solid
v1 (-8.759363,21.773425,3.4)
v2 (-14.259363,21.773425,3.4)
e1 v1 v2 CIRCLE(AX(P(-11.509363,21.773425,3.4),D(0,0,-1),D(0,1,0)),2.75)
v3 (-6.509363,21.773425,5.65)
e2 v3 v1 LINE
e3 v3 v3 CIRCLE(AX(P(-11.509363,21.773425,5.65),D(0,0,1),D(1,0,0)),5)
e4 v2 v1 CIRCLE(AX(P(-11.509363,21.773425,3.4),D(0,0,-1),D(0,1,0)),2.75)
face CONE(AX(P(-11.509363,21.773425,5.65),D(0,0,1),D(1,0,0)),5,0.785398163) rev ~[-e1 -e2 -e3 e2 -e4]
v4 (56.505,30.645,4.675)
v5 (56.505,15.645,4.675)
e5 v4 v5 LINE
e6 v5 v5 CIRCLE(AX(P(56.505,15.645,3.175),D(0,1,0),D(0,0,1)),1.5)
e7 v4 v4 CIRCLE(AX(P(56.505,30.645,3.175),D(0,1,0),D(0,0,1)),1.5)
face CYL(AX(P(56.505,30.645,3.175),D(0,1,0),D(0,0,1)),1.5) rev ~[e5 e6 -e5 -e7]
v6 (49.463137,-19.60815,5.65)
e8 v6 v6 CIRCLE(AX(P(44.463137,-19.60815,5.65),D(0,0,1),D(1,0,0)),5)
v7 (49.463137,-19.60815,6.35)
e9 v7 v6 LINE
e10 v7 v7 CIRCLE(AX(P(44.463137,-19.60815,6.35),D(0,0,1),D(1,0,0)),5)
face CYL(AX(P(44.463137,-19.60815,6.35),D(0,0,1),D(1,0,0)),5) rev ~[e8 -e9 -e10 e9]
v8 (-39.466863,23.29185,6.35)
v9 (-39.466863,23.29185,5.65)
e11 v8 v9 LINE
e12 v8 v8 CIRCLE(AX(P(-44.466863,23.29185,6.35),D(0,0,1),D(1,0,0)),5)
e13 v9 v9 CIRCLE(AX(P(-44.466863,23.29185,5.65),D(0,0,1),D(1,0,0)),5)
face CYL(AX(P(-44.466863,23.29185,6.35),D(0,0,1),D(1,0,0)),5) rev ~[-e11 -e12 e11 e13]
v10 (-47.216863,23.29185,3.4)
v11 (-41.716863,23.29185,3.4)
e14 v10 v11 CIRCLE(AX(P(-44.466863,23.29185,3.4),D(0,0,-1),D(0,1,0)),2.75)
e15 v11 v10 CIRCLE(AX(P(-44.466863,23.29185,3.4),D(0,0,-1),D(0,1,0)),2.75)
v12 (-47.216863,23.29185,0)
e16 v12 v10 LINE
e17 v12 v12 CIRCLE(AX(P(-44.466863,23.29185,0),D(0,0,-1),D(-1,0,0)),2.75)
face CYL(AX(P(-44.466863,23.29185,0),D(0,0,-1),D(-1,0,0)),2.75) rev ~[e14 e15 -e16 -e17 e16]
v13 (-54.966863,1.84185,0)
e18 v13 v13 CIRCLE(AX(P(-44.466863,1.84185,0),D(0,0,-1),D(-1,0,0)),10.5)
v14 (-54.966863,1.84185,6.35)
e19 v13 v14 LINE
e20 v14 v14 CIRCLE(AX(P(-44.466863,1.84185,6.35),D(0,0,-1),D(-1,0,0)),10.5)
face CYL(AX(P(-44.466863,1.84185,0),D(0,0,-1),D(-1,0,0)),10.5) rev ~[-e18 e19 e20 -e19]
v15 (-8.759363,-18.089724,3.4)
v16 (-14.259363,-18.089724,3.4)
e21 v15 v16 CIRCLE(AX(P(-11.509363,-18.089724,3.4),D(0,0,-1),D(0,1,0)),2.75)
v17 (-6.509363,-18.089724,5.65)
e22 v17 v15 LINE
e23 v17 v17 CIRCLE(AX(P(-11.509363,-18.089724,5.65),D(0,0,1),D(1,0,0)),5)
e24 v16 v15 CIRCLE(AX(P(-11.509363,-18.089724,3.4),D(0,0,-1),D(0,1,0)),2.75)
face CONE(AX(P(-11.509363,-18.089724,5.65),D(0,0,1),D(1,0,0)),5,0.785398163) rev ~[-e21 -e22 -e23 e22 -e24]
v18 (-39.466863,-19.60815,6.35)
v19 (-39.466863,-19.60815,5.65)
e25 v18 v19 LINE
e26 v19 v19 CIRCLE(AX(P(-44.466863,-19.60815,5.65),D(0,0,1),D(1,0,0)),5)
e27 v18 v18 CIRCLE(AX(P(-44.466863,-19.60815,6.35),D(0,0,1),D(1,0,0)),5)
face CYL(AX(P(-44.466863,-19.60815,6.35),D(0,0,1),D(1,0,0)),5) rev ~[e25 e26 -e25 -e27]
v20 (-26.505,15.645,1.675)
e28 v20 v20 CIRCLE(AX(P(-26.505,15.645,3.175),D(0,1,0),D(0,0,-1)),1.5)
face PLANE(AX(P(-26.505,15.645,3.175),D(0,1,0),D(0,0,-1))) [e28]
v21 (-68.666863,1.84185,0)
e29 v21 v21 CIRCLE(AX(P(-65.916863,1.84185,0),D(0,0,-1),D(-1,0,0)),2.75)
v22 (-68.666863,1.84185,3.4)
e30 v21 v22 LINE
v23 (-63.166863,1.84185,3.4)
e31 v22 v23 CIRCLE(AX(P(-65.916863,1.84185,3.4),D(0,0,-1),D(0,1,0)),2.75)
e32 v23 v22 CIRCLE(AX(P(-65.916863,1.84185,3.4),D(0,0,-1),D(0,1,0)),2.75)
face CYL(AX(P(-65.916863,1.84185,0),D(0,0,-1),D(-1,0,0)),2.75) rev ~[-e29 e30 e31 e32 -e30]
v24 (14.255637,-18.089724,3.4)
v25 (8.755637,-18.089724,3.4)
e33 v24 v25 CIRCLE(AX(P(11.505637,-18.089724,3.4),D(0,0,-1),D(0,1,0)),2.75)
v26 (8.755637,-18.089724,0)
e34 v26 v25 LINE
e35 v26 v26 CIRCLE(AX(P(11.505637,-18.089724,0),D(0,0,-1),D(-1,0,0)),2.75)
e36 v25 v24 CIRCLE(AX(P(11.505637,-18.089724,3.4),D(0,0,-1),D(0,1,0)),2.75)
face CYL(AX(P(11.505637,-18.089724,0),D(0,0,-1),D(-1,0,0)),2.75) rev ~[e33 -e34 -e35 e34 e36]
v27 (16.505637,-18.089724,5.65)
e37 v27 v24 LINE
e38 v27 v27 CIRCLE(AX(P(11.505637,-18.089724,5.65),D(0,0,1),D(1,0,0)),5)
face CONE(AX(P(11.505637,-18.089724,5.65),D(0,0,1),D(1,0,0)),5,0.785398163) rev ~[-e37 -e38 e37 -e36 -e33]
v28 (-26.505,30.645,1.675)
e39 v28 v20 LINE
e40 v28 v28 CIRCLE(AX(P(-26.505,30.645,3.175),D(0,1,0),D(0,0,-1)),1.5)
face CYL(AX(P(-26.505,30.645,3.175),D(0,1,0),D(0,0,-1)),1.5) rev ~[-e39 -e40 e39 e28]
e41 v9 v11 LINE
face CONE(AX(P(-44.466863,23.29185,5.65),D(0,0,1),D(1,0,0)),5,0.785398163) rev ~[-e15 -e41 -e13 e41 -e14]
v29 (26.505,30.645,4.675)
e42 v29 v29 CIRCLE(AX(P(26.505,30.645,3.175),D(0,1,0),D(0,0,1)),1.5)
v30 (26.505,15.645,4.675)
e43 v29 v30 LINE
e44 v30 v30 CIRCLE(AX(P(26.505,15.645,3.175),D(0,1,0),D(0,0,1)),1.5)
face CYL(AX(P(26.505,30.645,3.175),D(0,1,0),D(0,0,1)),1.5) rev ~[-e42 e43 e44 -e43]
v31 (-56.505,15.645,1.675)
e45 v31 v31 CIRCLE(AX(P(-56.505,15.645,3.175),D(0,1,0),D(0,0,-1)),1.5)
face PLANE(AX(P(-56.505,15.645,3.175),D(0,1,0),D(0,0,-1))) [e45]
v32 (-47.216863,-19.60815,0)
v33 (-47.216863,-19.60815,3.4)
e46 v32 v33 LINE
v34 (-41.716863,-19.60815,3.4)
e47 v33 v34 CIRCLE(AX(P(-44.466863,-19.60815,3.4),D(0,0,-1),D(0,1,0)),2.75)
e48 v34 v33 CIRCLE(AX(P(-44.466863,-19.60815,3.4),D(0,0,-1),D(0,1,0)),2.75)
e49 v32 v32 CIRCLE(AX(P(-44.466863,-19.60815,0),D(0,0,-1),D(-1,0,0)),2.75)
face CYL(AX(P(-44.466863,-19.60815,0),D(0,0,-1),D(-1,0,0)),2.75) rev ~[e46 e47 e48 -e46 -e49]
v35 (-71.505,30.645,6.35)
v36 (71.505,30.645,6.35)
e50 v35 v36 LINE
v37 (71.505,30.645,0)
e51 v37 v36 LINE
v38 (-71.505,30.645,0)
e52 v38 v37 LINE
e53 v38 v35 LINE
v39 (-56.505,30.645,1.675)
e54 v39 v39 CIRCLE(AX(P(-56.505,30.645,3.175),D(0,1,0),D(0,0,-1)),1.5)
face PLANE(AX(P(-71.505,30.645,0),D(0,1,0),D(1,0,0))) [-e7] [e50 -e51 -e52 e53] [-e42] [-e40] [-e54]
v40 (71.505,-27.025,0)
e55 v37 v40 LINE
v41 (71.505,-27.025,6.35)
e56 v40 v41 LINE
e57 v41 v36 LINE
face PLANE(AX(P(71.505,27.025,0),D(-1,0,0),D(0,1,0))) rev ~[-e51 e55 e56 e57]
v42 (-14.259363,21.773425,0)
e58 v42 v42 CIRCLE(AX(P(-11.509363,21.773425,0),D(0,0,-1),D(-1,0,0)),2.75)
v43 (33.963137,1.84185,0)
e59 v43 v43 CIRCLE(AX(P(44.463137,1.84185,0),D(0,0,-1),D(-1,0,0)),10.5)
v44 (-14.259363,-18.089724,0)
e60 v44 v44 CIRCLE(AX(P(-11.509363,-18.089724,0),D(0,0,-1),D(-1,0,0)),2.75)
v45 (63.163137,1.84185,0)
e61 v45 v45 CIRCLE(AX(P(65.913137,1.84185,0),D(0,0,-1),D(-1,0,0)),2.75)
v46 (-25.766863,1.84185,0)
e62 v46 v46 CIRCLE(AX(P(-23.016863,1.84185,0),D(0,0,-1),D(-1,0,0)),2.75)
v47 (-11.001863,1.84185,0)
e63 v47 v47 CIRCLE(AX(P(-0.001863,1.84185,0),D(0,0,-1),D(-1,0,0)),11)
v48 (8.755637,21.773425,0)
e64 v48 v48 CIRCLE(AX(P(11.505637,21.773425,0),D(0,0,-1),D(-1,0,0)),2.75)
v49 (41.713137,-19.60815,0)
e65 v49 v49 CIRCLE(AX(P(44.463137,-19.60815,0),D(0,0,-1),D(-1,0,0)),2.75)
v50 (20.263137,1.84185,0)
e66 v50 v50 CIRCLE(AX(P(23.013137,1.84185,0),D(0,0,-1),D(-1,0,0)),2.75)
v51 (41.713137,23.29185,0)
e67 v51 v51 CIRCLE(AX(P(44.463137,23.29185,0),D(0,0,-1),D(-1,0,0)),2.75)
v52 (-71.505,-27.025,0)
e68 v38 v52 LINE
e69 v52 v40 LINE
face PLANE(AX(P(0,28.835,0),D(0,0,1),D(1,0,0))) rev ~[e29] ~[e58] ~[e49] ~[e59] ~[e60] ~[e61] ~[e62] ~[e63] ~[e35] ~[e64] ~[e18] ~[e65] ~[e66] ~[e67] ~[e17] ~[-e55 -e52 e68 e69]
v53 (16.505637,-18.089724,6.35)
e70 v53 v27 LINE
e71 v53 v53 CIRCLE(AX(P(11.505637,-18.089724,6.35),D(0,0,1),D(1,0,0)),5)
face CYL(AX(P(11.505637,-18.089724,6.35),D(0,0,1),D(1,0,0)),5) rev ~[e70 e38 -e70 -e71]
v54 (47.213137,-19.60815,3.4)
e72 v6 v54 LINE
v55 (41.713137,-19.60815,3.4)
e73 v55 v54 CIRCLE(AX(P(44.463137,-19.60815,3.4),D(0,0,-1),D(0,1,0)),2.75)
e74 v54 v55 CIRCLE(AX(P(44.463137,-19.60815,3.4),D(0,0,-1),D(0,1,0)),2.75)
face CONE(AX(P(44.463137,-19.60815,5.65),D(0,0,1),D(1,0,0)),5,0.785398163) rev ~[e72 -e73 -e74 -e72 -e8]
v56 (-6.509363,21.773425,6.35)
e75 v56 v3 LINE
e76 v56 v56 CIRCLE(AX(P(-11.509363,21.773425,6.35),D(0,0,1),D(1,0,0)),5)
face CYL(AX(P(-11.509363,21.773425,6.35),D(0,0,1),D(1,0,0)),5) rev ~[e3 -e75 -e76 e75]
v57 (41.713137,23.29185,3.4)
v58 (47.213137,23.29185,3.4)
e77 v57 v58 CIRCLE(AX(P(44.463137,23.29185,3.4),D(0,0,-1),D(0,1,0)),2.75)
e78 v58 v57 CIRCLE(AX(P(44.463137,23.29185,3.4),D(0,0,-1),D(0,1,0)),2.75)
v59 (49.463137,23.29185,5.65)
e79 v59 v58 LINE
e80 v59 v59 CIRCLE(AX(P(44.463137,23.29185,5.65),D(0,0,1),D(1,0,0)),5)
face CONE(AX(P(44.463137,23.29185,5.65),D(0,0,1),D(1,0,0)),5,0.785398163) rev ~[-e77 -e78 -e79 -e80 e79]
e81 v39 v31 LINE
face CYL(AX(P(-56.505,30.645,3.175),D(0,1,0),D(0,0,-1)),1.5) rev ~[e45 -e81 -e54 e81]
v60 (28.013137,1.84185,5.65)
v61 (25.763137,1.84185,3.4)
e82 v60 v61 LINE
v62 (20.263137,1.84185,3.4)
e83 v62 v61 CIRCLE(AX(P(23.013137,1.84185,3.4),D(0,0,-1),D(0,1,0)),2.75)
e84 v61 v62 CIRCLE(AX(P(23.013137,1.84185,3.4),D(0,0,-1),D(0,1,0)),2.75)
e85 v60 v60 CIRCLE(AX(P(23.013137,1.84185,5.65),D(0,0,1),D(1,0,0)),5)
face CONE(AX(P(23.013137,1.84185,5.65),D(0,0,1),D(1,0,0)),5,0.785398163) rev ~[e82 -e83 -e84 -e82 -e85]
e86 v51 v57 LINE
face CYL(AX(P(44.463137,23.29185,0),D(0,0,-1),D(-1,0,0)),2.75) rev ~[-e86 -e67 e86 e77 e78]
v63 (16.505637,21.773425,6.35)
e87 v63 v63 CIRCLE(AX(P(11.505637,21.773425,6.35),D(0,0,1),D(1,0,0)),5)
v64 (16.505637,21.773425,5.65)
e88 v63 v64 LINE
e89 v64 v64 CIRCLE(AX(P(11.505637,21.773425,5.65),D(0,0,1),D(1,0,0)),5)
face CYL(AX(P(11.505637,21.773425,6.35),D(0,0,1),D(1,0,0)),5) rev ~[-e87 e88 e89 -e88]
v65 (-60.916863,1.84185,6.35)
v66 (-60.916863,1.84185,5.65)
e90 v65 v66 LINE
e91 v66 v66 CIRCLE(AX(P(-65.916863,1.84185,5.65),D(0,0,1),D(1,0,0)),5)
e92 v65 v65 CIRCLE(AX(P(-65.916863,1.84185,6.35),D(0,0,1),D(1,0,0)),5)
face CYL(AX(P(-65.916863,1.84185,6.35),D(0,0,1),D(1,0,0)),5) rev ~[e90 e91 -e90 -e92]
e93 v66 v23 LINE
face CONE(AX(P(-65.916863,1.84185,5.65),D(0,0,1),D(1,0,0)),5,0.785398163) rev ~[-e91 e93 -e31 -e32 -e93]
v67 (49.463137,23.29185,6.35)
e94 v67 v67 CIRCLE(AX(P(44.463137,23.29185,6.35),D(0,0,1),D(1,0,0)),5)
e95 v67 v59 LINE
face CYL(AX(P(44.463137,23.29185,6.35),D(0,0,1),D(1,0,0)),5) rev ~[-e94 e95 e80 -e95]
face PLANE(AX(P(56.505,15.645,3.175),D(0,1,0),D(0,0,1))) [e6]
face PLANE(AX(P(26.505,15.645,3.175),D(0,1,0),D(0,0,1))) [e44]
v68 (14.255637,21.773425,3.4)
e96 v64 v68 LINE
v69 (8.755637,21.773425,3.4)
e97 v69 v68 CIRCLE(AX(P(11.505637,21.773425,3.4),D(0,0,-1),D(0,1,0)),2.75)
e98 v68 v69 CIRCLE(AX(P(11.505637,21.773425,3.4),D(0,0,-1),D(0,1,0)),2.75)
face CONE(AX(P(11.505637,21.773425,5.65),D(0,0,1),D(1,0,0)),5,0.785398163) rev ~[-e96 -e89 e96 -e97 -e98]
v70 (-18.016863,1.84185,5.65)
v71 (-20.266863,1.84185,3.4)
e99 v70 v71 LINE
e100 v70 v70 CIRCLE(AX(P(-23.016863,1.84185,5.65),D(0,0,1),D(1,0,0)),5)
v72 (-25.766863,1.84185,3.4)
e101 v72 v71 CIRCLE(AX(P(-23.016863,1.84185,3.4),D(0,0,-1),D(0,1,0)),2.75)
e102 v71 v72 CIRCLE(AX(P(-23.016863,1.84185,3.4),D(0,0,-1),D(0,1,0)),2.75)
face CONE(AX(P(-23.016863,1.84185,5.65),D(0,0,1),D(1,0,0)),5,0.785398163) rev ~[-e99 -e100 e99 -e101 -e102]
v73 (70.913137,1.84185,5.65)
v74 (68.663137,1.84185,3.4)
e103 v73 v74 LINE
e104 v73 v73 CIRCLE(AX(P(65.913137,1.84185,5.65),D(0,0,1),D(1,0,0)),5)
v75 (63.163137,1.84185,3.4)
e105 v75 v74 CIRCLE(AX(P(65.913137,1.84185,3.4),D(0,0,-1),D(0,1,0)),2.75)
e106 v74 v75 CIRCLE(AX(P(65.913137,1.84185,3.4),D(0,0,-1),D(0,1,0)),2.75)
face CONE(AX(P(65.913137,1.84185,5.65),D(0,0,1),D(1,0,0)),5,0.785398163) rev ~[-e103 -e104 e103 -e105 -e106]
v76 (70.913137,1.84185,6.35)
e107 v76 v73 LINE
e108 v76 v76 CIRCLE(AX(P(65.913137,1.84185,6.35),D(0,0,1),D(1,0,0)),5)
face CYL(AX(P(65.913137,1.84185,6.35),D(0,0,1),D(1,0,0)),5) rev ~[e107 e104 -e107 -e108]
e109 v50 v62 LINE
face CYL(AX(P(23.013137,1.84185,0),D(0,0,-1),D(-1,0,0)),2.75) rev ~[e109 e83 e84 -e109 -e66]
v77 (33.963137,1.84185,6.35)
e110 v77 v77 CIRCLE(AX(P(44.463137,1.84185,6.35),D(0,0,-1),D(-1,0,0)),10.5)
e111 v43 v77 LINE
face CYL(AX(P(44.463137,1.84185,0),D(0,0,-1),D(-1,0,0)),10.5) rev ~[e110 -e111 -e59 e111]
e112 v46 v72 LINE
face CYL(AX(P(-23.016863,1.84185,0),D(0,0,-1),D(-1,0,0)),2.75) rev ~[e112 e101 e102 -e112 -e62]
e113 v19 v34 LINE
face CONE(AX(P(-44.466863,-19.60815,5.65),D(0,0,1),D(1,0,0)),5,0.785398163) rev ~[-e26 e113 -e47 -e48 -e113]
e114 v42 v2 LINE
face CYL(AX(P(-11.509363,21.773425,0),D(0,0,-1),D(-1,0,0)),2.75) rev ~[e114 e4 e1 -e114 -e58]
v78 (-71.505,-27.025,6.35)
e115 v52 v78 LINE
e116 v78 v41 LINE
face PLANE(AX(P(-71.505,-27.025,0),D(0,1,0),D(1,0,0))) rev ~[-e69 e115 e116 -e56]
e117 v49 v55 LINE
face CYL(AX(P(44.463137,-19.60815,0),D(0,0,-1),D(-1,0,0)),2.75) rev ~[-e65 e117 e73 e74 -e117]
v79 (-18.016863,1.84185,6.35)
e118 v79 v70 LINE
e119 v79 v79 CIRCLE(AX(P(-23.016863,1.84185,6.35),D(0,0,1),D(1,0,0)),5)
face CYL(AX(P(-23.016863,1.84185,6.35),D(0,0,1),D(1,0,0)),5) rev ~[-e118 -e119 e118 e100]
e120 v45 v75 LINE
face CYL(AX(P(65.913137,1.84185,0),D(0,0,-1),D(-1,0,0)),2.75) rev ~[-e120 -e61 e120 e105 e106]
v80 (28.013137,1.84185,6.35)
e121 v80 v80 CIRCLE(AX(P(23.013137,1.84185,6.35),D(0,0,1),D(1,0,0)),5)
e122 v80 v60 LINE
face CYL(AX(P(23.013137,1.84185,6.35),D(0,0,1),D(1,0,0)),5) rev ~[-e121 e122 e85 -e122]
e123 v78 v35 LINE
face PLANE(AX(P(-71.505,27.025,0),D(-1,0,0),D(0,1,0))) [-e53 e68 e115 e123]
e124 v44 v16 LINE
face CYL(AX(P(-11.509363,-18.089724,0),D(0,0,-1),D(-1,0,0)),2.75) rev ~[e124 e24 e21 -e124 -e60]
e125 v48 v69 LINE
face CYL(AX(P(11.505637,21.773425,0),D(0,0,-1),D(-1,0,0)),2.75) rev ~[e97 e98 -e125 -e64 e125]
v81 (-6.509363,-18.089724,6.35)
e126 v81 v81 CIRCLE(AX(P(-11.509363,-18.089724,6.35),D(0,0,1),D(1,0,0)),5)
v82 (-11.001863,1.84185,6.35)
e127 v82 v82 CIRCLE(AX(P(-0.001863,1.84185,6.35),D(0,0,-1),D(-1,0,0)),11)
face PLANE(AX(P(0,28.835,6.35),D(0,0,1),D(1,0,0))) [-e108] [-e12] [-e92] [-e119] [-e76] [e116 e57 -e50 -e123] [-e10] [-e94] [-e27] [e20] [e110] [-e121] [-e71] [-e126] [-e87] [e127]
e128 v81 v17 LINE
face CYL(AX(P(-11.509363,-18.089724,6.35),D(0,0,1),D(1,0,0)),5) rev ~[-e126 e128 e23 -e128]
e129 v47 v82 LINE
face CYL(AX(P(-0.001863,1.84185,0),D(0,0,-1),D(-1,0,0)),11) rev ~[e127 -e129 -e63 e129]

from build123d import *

# Parameters (mm, degrees)
ESBO_O1_W                        = 143.01
ESBO_O1_H                        = 54.05
RESSALTO_EXTRUS_O1_DEPTH         = 6.35
ESBO_O2_R                        = 2.75
CORTE_EXTRUS_O1_DEPTH            = 10
ESBO_O3_R                        = 10.5
ESBO_O3_R_2                      = 11
CORTE_EXTRUS_O2_DEPTH            = 10
ESBO_O4_W                        = 143.01
ESBO_O4_H                        = 3.62
RESSALTO_EXTRUS_O2_DEPTH         = 6.35
ESBO_O8_R                        = 1.5
CORTE_EXTRUS_O3_DEPTH            = 15
ESBO_O9_R                        = 5
CORTE_EXTRUS_O4_DEPTH            = 0.7
ESBO_O12_R                       = 5
CORTE_EXTRUS_O5_DEPTH            = 2.5
CORTE_EXTRUS_O5_DRAFT            = -45
CORTE_EXTRUS_O5_PROFILE_2_DEPTH  = 2.5
CORTE_EXTRUS_O5_PROFILE_2_DRAFT  = -45
CORTE_EXTRUS_O5_PROFILE_3_DEPTH  = 2.5
CORTE_EXTRUS_O5_PROFILE_3_DRAFT  = -45
CORTE_EXTRUS_O5_PROFILE_4_DEPTH  = 2.5
CORTE_EXTRUS_O5_PROFILE_4_DRAFT  = -45
CORTE_EXTRUS_O5_PROFILE_5_DEPTH  = 2.5
CORTE_EXTRUS_O5_PROFILE_5_DRAFT  = -45
CORTE_EXTRUS_O5_PROFILE_6_DEPTH  = 2.5
CORTE_EXTRUS_O5_PROFILE_6_DRAFT  = -45
CORTE_EXTRUS_O5_PROFILE_7_DEPTH  = 2.5
CORTE_EXTRUS_O5_PROFILE_7_DRAFT  = -45
CORTE_EXTRUS_O5_PROFILE_8_DEPTH  = 2.5
CORTE_EXTRUS_O5_PROFILE_8_DRAFT  = -45
CORTE_EXTRUS_O5_PROFILE_9_DEPTH  = 2.5
CORTE_EXTRUS_O5_PROFILE_9_DRAFT  = -45
CORTE_EXTRUS_O5_PROFILE_10_DEPTH = 2.5
CORTE_EXTRUS_O5_PROFILE_10_DRAFT = -45
CORTE_EXTRUS_O5_PROFILE_11_DEPTH = 2.5
CORTE_EXTRUS_O5_PROFILE_11_DRAFT = -45
CORTE_EXTRUS_O5_PROFILE_12_DEPTH = 2.5
CORTE_EXTRUS_O5_PROFILE_12_DRAFT = -45


with BuildPart() as part:
    # Esboço1 → Ressalto-extrusão1 (new body)
    with BuildSketch(Plane.XY):
        Rectangle(ESBO_O1_W, ESBO_O1_H)
    extrude(amount=RESSALTO_EXTRUS_O1_DEPTH)

    # Esboço2 → Corte-extrusão1 (cut)
    with BuildSketch(Plane(origin=(0, 0, 0), x_dir=(-1, 0, 0), z_dir=(0, 0, -1))):
        with Locations((-44.463136928, 23.291850449)):
            Circle(ESBO_O2_R)
        with Locations((-65.913136928, 1.841850449)):
            Circle(ESBO_O2_R)
        with Locations((-44.463136928, -19.608149551)):
            Circle(ESBO_O2_R)
        with Locations((-23.013136928, 1.841850449)):
            Circle(ESBO_O2_R)
        with Locations((-11.505636928, 21.773425117)):
            Circle(ESBO_O2_R)
        with Locations((11.509363072, 21.773425117)):
            Circle(ESBO_O2_R)
        with Locations((23.016863072, 1.841850449)):
            Circle(ESBO_O2_R)
        with Locations((11.509363072, -18.089724219)):
            Circle(ESBO_O2_R)
        with Locations((-11.505636928, -18.089724219)):
            Circle(ESBO_O2_R)
        with Locations((44.466863072, -19.608149551)):
            Circle(ESBO_O2_R)
        with Locations((65.916863072, 1.841850449)):
            Circle(ESBO_O2_R)
        with Locations((44.466863072, 23.291850449)):
            Circle(ESBO_O2_R)
    extrude(amount=-CORTE_EXTRUS_O1_DEPTH, mode=Mode.SUBTRACT)

    # Esboço3 → Corte-extrusão2 (cut)
    with BuildSketch(Plane(origin=(0, 0, 0), x_dir=(-1, 0, 0), z_dir=(0, 0, -1))):
        with Locations((-44.463136928, 1.841850449)):
            Circle(ESBO_O3_R)
        with Locations((0.001863072, 1.841850449)):
            Circle(ESBO_O3_R_2)
        with Locations((44.466863072, 1.841850449)):
            Circle(ESBO_O3_R)
    extrude(amount=-CORTE_EXTRUS_O2_DEPTH, mode=Mode.SUBTRACT)

    # Esboço4 → Ressalto-extrusão2 (add)
    with BuildSketch(Plane.XY):
        with Locations((0, 28.835)):
            Rectangle(ESBO_O4_W, ESBO_O4_H)
    extrude(amount=RESSALTO_EXTRUS_O2_DEPTH)

    # Esboço8 → Corte-extrusão3 (cut)
    with BuildSketch(Plane(origin=(0, 30.645, 0), x_dir=(1, 0, 0), z_dir=(0, 1, 0))):
        with Locations(Location((56.505, -3.175, 0), (0, 0, 270))):
            Circle(ESBO_O8_R)
        with Locations(Location((26.505, -3.175, 0), (0, 0, 270))):
            Circle(ESBO_O8_R)
        with Locations(Location((-26.505, -3.175, 0), (0, 0, 90))):
            Circle(ESBO_O8_R)
        with Locations(Location((-56.505, -3.175, 0), (0, 0, 90))):
            Circle(ESBO_O8_R)
    extrude(amount=-CORTE_EXTRUS_O3_DEPTH, mode=Mode.SUBTRACT)

    # Esboço9 → Corte-extrusão4 (cut)
    with BuildSketch(Plane.XY.offset(6.35)):
        with Locations((44.463136928, -19.608149551)):
            Circle(ESBO_O9_R)
        with Locations((65.913136928, 1.841850449)):
            Circle(ESBO_O9_R)
        with Locations((44.463136928, 23.291850449)):
            Circle(ESBO_O9_R)
        with Locations((23.013136928, 1.841850449)):
            Circle(ESBO_O9_R)
        with Locations((11.505636928, -18.089724219)):
            Circle(ESBO_O9_R)
        with Locations((11.505636928, 21.773425117)):
            Circle(ESBO_O9_R)
        with Locations((-11.509363072, 21.773425117)):
            Circle(ESBO_O9_R)
        with Locations((-23.016863072, 1.841850449)):
            Circle(ESBO_O9_R)
        with Locations((-11.509363072, -18.089724219)):
            Circle(ESBO_O9_R)
        with Locations((-44.466863072, 23.291850449)):
            Circle(ESBO_O9_R)
        with Locations((-65.916863072, 1.841850449)):
            Circle(ESBO_O9_R)
        with Locations((-44.466863072, -19.608149551)):
            Circle(ESBO_O9_R)
    extrude(amount=-CORTE_EXTRUS_O4_DEPTH, mode=Mode.SUBTRACT)


with BuildPart() as corte_extrus_o5_tool:
    # Esboço12 → Corte-extrusão5 (with draft: the straight prism first)
    with BuildSketch(Plane.XY.offset(5.65)):
        with Locations((-65.916863072, 1.841850449)):
            Circle(ESBO_O12_R)
    extrude(amount=-CORTE_EXTRUS_O5_DEPTH)
    # Corte-extrusão5: the draft: its side faces are tilted about the plane it starts from
    corte_extrus_o5_sides = [corte_extrus_o5_tool.faces().sort_by_distance(p)[0] for p in [
        (-70.916863072, 1.841850449, 4.4),
    ]]
    draft(corte_extrus_o5_sides, Plane.XY.offset(5.65), CORTE_EXTRUS_O5_DRAFT)


with BuildPart() as part_1:
    add(part.part)

    # Corte-extrusão5: cut by corte_extrus_o5_tool
    add(corte_extrus_o5_tool.part, mode=Mode.SUBTRACT)


with BuildPart() as corte_extrus_o5_profile_2_tool:
    # Esboço12 → Corte-extrusão5 profile 2 (with draft: the straight prism first)
    with BuildSketch(Plane.XY.offset(5.65)):
        with Locations((-44.466863072, 23.291850449)):
            Circle(ESBO_O12_R)
    extrude(amount=-CORTE_EXTRUS_O5_PROFILE_2_DEPTH)
    # Corte-extrusão5 profile 2: the draft: its side faces are tilted about the plane it starts from
    corte_extrus_o5_profile_2_sides = [corte_extrus_o5_profile_2_tool.faces().sort_by_distance(p)[0] for p in [
        (-49.466863072, 23.291850449, 4.4),
    ]]
    draft(corte_extrus_o5_profile_2_sides, Plane.XY.offset(5.65), CORTE_EXTRUS_O5_PROFILE_2_DRAFT)


with BuildPart() as part_2:
    add(part_1.part)

    # Corte-extrusão5 profile 2: cut by corte_extrus_o5_profile_2_tool
    add(corte_extrus_o5_profile_2_tool.part, mode=Mode.SUBTRACT)


with BuildPart() as corte_extrus_o5_profile_3_tool:
    # Esboço12 → Corte-extrusão5 profile 3 (with draft: the straight prism first)
    with BuildSketch(Plane.XY.offset(5.65)):
        with Locations((-23.016863072, 1.841850449)):
            Circle(ESBO_O12_R)
    extrude(amount=-CORTE_EXTRUS_O5_PROFILE_3_DEPTH)
    # Corte-extrusão5 profile 3: the draft: its side faces are tilted about the plane it starts from
    corte_extrus_o5_profile_3_sides = [corte_extrus_o5_profile_3_tool.faces().sort_by_distance(p)[0] for p in [
        (-28.016863072, 1.841850449, 4.4),
    ]]
    draft(corte_extrus_o5_profile_3_sides, Plane.XY.offset(5.65), CORTE_EXTRUS_O5_PROFILE_3_DRAFT)


with BuildPart() as part_3:
    add(part_2.part)

    # Corte-extrusão5 profile 3: cut by corte_extrus_o5_profile_3_tool
    add(corte_extrus_o5_profile_3_tool.part, mode=Mode.SUBTRACT)


with BuildPart() as corte_extrus_o5_profile_4_tool:
    # Esboço12 → Corte-extrusão5 profile 4 (with draft: the straight prism first)
    with BuildSketch(Plane.XY.offset(5.65)):
        with Locations((-11.509363072, 21.773425117)):
            Circle(ESBO_O12_R)
    extrude(amount=-CORTE_EXTRUS_O5_PROFILE_4_DEPTH)
    # Corte-extrusão5 profile 4: the draft: its side faces are tilted about the plane it starts from
    corte_extrus_o5_profile_4_sides = [corte_extrus_o5_profile_4_tool.faces().sort_by_distance(p)[0] for p in [
        (-16.509363072, 21.773425117, 4.4),
    ]]
    draft(corte_extrus_o5_profile_4_sides, Plane.XY.offset(5.65), CORTE_EXTRUS_O5_PROFILE_4_DRAFT)


with BuildPart() as part_4:
    add(part_3.part)

    # Corte-extrusão5 profile 4: cut by corte_extrus_o5_profile_4_tool
    add(corte_extrus_o5_profile_4_tool.part, mode=Mode.SUBTRACT)


with BuildPart() as corte_extrus_o5_profile_5_tool:
    # Esboço12 → Corte-extrusão5 profile 5 (with draft: the straight prism first)
    with BuildSketch(Plane.XY.offset(5.65)):
        with Locations((-44.466863072, -19.608149551)):
            Circle(ESBO_O12_R)
    extrude(amount=-CORTE_EXTRUS_O5_PROFILE_5_DEPTH)
    # Corte-extrusão5 profile 5: the draft: its side faces are tilted about the plane it starts from
    corte_extrus_o5_profile_5_sides = [corte_extrus_o5_profile_5_tool.faces().sort_by_distance(p)[0] for p in [
        (-49.466863072, -19.608149551, 4.4),
    ]]
    draft(corte_extrus_o5_profile_5_sides, Plane.XY.offset(5.65), CORTE_EXTRUS_O5_PROFILE_5_DRAFT)


with BuildPart() as part_5:
    add(part_4.part)

    # Corte-extrusão5 profile 5: cut by corte_extrus_o5_profile_5_tool
    add(corte_extrus_o5_profile_5_tool.part, mode=Mode.SUBTRACT)


with BuildPart() as corte_extrus_o5_profile_6_tool:
    # Esboço12 → Corte-extrusão5 profile 6 (with draft: the straight prism first)
    with BuildSketch(Plane.XY.offset(5.65)):
        with Locations((-11.509363072, -18.089724219)):
            Circle(ESBO_O12_R)
    extrude(amount=-CORTE_EXTRUS_O5_PROFILE_6_DEPTH)
    # Corte-extrusão5 profile 6: the draft: its side faces are tilted about the plane it starts from
    corte_extrus_o5_profile_6_sides = [corte_extrus_o5_profile_6_tool.faces().sort_by_distance(p)[0] for p in [
        (-16.509363072, -18.089724219, 4.4),
    ]]
    draft(corte_extrus_o5_profile_6_sides, Plane.XY.offset(5.65), CORTE_EXTRUS_O5_PROFILE_6_DRAFT)


with BuildPart() as part_6:
    add(part_5.part)

    # Corte-extrusão5 profile 6: cut by corte_extrus_o5_profile_6_tool
    add(corte_extrus_o5_profile_6_tool.part, mode=Mode.SUBTRACT)


with BuildPart() as corte_extrus_o5_profile_7_tool:
    # Esboço12 → Corte-extrusão5 profile 7 (with draft: the straight prism first)
    with BuildSketch(Plane.XY.offset(5.65)):
        with Locations((11.505636928, -18.089724219)):
            Circle(ESBO_O12_R)
    extrude(amount=-CORTE_EXTRUS_O5_PROFILE_7_DEPTH)
    # Corte-extrusão5 profile 7: the draft: its side faces are tilted about the plane it starts from
    corte_extrus_o5_profile_7_sides = [corte_extrus_o5_profile_7_tool.faces().sort_by_distance(p)[0] for p in [
        (6.505636928, -18.089724219, 4.4),
    ]]
    draft(corte_extrus_o5_profile_7_sides, Plane.XY.offset(5.65), CORTE_EXTRUS_O5_PROFILE_7_DRAFT)


with BuildPart() as part_7:
    add(part_6.part)

    # Corte-extrusão5 profile 7: cut by corte_extrus_o5_profile_7_tool
    add(corte_extrus_o5_profile_7_tool.part, mode=Mode.SUBTRACT)


with BuildPart() as corte_extrus_o5_profile_8_tool:
    # Esboço12 → Corte-extrusão5 profile 8 (with draft: the straight prism first)
    with BuildSketch(Plane.XY.offset(5.65)):
        with Locations((44.463136928, -19.608149551)):
            Circle(ESBO_O12_R)
    extrude(amount=-CORTE_EXTRUS_O5_PROFILE_8_DEPTH)
    # Corte-extrusão5 profile 8: the draft: its side faces are tilted about the plane it starts from
    corte_extrus_o5_profile_8_sides = [corte_extrus_o5_profile_8_tool.faces().sort_by_distance(p)[0] for p in [
        (39.463136928, -19.608149551, 4.4),
    ]]
    draft(corte_extrus_o5_profile_8_sides, Plane.XY.offset(5.65), CORTE_EXTRUS_O5_PROFILE_8_DRAFT)


with BuildPart() as part_8:
    add(part_7.part)

    # Corte-extrusão5 profile 8: cut by corte_extrus_o5_profile_8_tool
    add(corte_extrus_o5_profile_8_tool.part, mode=Mode.SUBTRACT)


with BuildPart() as corte_extrus_o5_profile_9_tool:
    # Esboço12 → Corte-extrusão5 profile 9 (with draft: the straight prism first)
    with BuildSketch(Plane.XY.offset(5.65)):
        with Locations((23.013136928, 1.841850449)):
            Circle(ESBO_O12_R)
    extrude(amount=-CORTE_EXTRUS_O5_PROFILE_9_DEPTH)
    # Corte-extrusão5 profile 9: the draft: its side faces are tilted about the plane it starts from
    corte_extrus_o5_profile_9_sides = [corte_extrus_o5_profile_9_tool.faces().sort_by_distance(p)[0] for p in [
        (18.013136928, 1.841850449, 4.4),
    ]]
    draft(corte_extrus_o5_profile_9_sides, Plane.XY.offset(5.65), CORTE_EXTRUS_O5_PROFILE_9_DRAFT)


with BuildPart() as part_9:
    add(part_8.part)

    # Corte-extrusão5 profile 9: cut by corte_extrus_o5_profile_9_tool
    add(corte_extrus_o5_profile_9_tool.part, mode=Mode.SUBTRACT)


with BuildPart() as corte_extrus_o5_profile_10_tool:
    # Esboço12 → Corte-extrusão5 profile 10 (with draft: the straight prism first)
    with BuildSketch(Plane.XY.offset(5.65)):
        with Locations((65.913136928, 1.841850449)):
            Circle(ESBO_O12_R)
    extrude(amount=-CORTE_EXTRUS_O5_PROFILE_10_DEPTH)
    # Corte-extrusão5 profile 10: the draft: its side faces are tilted about the plane it starts from
    corte_extrus_o5_profile_10_sides = [corte_extrus_o5_profile_10_tool.faces().sort_by_distance(p)[0] for p in [
        (60.913136928, 1.841850449, 4.4),
    ]]
    draft(corte_extrus_o5_profile_10_sides, Plane.XY.offset(5.65), CORTE_EXTRUS_O5_PROFILE_10_DRAFT)


with BuildPart() as part_10:
    add(part_9.part)

    # Corte-extrusão5 profile 10: cut by corte_extrus_o5_profile_10_tool
    add(corte_extrus_o5_profile_10_tool.part, mode=Mode.SUBTRACT)


with BuildPart() as corte_extrus_o5_profile_11_tool:
    # Esboço12 → Corte-extrusão5 profile 11 (with draft: the straight prism first)
    with BuildSketch(Plane.XY.offset(5.65)):
        with Locations((44.463136928, 23.291850449)):
            Circle(ESBO_O12_R)
    extrude(amount=-CORTE_EXTRUS_O5_PROFILE_11_DEPTH)
    # Corte-extrusão5 profile 11: the draft: its side faces are tilted about the plane it starts from
    corte_extrus_o5_profile_11_sides = [corte_extrus_o5_profile_11_tool.faces().sort_by_distance(p)[0] for p in [
        (39.463136928, 23.291850449, 4.4),
    ]]
    draft(corte_extrus_o5_profile_11_sides, Plane.XY.offset(5.65), CORTE_EXTRUS_O5_PROFILE_11_DRAFT)


with BuildPart() as part_11:
    add(part_10.part)

    # Corte-extrusão5 profile 11: cut by corte_extrus_o5_profile_11_tool
    add(corte_extrus_o5_profile_11_tool.part, mode=Mode.SUBTRACT)


with BuildPart() as corte_extrus_o5_profile_12_tool:
    # Esboço12 → Corte-extrusão5 profile 12 (with draft: the straight prism first)
    with BuildSketch(Plane.XY.offset(5.65)):
        with Locations((11.505636928, 21.773425117)):
            Circle(ESBO_O12_R)
    extrude(amount=-CORTE_EXTRUS_O5_PROFILE_12_DEPTH)
    # Corte-extrusão5 profile 12: the draft: its side faces are tilted about the plane it starts from
    corte_extrus_o5_profile_12_sides = [corte_extrus_o5_profile_12_tool.faces().sort_by_distance(p)[0] for p in [
        (6.505636928, 21.773425117, 4.4),
    ]]
    draft(corte_extrus_o5_profile_12_sides, Plane.XY.offset(5.65), CORTE_EXTRUS_O5_PROFILE_12_DRAFT)


with BuildPart() as part_12:
    add(part_11.part)

    # Corte-extrusão5 profile 12: cut by corte_extrus_o5_profile_12_tool
    add(corte_extrus_o5_profile_12_tool.part, mode=Mode.SUBTRACT)


solid = part_12.part
